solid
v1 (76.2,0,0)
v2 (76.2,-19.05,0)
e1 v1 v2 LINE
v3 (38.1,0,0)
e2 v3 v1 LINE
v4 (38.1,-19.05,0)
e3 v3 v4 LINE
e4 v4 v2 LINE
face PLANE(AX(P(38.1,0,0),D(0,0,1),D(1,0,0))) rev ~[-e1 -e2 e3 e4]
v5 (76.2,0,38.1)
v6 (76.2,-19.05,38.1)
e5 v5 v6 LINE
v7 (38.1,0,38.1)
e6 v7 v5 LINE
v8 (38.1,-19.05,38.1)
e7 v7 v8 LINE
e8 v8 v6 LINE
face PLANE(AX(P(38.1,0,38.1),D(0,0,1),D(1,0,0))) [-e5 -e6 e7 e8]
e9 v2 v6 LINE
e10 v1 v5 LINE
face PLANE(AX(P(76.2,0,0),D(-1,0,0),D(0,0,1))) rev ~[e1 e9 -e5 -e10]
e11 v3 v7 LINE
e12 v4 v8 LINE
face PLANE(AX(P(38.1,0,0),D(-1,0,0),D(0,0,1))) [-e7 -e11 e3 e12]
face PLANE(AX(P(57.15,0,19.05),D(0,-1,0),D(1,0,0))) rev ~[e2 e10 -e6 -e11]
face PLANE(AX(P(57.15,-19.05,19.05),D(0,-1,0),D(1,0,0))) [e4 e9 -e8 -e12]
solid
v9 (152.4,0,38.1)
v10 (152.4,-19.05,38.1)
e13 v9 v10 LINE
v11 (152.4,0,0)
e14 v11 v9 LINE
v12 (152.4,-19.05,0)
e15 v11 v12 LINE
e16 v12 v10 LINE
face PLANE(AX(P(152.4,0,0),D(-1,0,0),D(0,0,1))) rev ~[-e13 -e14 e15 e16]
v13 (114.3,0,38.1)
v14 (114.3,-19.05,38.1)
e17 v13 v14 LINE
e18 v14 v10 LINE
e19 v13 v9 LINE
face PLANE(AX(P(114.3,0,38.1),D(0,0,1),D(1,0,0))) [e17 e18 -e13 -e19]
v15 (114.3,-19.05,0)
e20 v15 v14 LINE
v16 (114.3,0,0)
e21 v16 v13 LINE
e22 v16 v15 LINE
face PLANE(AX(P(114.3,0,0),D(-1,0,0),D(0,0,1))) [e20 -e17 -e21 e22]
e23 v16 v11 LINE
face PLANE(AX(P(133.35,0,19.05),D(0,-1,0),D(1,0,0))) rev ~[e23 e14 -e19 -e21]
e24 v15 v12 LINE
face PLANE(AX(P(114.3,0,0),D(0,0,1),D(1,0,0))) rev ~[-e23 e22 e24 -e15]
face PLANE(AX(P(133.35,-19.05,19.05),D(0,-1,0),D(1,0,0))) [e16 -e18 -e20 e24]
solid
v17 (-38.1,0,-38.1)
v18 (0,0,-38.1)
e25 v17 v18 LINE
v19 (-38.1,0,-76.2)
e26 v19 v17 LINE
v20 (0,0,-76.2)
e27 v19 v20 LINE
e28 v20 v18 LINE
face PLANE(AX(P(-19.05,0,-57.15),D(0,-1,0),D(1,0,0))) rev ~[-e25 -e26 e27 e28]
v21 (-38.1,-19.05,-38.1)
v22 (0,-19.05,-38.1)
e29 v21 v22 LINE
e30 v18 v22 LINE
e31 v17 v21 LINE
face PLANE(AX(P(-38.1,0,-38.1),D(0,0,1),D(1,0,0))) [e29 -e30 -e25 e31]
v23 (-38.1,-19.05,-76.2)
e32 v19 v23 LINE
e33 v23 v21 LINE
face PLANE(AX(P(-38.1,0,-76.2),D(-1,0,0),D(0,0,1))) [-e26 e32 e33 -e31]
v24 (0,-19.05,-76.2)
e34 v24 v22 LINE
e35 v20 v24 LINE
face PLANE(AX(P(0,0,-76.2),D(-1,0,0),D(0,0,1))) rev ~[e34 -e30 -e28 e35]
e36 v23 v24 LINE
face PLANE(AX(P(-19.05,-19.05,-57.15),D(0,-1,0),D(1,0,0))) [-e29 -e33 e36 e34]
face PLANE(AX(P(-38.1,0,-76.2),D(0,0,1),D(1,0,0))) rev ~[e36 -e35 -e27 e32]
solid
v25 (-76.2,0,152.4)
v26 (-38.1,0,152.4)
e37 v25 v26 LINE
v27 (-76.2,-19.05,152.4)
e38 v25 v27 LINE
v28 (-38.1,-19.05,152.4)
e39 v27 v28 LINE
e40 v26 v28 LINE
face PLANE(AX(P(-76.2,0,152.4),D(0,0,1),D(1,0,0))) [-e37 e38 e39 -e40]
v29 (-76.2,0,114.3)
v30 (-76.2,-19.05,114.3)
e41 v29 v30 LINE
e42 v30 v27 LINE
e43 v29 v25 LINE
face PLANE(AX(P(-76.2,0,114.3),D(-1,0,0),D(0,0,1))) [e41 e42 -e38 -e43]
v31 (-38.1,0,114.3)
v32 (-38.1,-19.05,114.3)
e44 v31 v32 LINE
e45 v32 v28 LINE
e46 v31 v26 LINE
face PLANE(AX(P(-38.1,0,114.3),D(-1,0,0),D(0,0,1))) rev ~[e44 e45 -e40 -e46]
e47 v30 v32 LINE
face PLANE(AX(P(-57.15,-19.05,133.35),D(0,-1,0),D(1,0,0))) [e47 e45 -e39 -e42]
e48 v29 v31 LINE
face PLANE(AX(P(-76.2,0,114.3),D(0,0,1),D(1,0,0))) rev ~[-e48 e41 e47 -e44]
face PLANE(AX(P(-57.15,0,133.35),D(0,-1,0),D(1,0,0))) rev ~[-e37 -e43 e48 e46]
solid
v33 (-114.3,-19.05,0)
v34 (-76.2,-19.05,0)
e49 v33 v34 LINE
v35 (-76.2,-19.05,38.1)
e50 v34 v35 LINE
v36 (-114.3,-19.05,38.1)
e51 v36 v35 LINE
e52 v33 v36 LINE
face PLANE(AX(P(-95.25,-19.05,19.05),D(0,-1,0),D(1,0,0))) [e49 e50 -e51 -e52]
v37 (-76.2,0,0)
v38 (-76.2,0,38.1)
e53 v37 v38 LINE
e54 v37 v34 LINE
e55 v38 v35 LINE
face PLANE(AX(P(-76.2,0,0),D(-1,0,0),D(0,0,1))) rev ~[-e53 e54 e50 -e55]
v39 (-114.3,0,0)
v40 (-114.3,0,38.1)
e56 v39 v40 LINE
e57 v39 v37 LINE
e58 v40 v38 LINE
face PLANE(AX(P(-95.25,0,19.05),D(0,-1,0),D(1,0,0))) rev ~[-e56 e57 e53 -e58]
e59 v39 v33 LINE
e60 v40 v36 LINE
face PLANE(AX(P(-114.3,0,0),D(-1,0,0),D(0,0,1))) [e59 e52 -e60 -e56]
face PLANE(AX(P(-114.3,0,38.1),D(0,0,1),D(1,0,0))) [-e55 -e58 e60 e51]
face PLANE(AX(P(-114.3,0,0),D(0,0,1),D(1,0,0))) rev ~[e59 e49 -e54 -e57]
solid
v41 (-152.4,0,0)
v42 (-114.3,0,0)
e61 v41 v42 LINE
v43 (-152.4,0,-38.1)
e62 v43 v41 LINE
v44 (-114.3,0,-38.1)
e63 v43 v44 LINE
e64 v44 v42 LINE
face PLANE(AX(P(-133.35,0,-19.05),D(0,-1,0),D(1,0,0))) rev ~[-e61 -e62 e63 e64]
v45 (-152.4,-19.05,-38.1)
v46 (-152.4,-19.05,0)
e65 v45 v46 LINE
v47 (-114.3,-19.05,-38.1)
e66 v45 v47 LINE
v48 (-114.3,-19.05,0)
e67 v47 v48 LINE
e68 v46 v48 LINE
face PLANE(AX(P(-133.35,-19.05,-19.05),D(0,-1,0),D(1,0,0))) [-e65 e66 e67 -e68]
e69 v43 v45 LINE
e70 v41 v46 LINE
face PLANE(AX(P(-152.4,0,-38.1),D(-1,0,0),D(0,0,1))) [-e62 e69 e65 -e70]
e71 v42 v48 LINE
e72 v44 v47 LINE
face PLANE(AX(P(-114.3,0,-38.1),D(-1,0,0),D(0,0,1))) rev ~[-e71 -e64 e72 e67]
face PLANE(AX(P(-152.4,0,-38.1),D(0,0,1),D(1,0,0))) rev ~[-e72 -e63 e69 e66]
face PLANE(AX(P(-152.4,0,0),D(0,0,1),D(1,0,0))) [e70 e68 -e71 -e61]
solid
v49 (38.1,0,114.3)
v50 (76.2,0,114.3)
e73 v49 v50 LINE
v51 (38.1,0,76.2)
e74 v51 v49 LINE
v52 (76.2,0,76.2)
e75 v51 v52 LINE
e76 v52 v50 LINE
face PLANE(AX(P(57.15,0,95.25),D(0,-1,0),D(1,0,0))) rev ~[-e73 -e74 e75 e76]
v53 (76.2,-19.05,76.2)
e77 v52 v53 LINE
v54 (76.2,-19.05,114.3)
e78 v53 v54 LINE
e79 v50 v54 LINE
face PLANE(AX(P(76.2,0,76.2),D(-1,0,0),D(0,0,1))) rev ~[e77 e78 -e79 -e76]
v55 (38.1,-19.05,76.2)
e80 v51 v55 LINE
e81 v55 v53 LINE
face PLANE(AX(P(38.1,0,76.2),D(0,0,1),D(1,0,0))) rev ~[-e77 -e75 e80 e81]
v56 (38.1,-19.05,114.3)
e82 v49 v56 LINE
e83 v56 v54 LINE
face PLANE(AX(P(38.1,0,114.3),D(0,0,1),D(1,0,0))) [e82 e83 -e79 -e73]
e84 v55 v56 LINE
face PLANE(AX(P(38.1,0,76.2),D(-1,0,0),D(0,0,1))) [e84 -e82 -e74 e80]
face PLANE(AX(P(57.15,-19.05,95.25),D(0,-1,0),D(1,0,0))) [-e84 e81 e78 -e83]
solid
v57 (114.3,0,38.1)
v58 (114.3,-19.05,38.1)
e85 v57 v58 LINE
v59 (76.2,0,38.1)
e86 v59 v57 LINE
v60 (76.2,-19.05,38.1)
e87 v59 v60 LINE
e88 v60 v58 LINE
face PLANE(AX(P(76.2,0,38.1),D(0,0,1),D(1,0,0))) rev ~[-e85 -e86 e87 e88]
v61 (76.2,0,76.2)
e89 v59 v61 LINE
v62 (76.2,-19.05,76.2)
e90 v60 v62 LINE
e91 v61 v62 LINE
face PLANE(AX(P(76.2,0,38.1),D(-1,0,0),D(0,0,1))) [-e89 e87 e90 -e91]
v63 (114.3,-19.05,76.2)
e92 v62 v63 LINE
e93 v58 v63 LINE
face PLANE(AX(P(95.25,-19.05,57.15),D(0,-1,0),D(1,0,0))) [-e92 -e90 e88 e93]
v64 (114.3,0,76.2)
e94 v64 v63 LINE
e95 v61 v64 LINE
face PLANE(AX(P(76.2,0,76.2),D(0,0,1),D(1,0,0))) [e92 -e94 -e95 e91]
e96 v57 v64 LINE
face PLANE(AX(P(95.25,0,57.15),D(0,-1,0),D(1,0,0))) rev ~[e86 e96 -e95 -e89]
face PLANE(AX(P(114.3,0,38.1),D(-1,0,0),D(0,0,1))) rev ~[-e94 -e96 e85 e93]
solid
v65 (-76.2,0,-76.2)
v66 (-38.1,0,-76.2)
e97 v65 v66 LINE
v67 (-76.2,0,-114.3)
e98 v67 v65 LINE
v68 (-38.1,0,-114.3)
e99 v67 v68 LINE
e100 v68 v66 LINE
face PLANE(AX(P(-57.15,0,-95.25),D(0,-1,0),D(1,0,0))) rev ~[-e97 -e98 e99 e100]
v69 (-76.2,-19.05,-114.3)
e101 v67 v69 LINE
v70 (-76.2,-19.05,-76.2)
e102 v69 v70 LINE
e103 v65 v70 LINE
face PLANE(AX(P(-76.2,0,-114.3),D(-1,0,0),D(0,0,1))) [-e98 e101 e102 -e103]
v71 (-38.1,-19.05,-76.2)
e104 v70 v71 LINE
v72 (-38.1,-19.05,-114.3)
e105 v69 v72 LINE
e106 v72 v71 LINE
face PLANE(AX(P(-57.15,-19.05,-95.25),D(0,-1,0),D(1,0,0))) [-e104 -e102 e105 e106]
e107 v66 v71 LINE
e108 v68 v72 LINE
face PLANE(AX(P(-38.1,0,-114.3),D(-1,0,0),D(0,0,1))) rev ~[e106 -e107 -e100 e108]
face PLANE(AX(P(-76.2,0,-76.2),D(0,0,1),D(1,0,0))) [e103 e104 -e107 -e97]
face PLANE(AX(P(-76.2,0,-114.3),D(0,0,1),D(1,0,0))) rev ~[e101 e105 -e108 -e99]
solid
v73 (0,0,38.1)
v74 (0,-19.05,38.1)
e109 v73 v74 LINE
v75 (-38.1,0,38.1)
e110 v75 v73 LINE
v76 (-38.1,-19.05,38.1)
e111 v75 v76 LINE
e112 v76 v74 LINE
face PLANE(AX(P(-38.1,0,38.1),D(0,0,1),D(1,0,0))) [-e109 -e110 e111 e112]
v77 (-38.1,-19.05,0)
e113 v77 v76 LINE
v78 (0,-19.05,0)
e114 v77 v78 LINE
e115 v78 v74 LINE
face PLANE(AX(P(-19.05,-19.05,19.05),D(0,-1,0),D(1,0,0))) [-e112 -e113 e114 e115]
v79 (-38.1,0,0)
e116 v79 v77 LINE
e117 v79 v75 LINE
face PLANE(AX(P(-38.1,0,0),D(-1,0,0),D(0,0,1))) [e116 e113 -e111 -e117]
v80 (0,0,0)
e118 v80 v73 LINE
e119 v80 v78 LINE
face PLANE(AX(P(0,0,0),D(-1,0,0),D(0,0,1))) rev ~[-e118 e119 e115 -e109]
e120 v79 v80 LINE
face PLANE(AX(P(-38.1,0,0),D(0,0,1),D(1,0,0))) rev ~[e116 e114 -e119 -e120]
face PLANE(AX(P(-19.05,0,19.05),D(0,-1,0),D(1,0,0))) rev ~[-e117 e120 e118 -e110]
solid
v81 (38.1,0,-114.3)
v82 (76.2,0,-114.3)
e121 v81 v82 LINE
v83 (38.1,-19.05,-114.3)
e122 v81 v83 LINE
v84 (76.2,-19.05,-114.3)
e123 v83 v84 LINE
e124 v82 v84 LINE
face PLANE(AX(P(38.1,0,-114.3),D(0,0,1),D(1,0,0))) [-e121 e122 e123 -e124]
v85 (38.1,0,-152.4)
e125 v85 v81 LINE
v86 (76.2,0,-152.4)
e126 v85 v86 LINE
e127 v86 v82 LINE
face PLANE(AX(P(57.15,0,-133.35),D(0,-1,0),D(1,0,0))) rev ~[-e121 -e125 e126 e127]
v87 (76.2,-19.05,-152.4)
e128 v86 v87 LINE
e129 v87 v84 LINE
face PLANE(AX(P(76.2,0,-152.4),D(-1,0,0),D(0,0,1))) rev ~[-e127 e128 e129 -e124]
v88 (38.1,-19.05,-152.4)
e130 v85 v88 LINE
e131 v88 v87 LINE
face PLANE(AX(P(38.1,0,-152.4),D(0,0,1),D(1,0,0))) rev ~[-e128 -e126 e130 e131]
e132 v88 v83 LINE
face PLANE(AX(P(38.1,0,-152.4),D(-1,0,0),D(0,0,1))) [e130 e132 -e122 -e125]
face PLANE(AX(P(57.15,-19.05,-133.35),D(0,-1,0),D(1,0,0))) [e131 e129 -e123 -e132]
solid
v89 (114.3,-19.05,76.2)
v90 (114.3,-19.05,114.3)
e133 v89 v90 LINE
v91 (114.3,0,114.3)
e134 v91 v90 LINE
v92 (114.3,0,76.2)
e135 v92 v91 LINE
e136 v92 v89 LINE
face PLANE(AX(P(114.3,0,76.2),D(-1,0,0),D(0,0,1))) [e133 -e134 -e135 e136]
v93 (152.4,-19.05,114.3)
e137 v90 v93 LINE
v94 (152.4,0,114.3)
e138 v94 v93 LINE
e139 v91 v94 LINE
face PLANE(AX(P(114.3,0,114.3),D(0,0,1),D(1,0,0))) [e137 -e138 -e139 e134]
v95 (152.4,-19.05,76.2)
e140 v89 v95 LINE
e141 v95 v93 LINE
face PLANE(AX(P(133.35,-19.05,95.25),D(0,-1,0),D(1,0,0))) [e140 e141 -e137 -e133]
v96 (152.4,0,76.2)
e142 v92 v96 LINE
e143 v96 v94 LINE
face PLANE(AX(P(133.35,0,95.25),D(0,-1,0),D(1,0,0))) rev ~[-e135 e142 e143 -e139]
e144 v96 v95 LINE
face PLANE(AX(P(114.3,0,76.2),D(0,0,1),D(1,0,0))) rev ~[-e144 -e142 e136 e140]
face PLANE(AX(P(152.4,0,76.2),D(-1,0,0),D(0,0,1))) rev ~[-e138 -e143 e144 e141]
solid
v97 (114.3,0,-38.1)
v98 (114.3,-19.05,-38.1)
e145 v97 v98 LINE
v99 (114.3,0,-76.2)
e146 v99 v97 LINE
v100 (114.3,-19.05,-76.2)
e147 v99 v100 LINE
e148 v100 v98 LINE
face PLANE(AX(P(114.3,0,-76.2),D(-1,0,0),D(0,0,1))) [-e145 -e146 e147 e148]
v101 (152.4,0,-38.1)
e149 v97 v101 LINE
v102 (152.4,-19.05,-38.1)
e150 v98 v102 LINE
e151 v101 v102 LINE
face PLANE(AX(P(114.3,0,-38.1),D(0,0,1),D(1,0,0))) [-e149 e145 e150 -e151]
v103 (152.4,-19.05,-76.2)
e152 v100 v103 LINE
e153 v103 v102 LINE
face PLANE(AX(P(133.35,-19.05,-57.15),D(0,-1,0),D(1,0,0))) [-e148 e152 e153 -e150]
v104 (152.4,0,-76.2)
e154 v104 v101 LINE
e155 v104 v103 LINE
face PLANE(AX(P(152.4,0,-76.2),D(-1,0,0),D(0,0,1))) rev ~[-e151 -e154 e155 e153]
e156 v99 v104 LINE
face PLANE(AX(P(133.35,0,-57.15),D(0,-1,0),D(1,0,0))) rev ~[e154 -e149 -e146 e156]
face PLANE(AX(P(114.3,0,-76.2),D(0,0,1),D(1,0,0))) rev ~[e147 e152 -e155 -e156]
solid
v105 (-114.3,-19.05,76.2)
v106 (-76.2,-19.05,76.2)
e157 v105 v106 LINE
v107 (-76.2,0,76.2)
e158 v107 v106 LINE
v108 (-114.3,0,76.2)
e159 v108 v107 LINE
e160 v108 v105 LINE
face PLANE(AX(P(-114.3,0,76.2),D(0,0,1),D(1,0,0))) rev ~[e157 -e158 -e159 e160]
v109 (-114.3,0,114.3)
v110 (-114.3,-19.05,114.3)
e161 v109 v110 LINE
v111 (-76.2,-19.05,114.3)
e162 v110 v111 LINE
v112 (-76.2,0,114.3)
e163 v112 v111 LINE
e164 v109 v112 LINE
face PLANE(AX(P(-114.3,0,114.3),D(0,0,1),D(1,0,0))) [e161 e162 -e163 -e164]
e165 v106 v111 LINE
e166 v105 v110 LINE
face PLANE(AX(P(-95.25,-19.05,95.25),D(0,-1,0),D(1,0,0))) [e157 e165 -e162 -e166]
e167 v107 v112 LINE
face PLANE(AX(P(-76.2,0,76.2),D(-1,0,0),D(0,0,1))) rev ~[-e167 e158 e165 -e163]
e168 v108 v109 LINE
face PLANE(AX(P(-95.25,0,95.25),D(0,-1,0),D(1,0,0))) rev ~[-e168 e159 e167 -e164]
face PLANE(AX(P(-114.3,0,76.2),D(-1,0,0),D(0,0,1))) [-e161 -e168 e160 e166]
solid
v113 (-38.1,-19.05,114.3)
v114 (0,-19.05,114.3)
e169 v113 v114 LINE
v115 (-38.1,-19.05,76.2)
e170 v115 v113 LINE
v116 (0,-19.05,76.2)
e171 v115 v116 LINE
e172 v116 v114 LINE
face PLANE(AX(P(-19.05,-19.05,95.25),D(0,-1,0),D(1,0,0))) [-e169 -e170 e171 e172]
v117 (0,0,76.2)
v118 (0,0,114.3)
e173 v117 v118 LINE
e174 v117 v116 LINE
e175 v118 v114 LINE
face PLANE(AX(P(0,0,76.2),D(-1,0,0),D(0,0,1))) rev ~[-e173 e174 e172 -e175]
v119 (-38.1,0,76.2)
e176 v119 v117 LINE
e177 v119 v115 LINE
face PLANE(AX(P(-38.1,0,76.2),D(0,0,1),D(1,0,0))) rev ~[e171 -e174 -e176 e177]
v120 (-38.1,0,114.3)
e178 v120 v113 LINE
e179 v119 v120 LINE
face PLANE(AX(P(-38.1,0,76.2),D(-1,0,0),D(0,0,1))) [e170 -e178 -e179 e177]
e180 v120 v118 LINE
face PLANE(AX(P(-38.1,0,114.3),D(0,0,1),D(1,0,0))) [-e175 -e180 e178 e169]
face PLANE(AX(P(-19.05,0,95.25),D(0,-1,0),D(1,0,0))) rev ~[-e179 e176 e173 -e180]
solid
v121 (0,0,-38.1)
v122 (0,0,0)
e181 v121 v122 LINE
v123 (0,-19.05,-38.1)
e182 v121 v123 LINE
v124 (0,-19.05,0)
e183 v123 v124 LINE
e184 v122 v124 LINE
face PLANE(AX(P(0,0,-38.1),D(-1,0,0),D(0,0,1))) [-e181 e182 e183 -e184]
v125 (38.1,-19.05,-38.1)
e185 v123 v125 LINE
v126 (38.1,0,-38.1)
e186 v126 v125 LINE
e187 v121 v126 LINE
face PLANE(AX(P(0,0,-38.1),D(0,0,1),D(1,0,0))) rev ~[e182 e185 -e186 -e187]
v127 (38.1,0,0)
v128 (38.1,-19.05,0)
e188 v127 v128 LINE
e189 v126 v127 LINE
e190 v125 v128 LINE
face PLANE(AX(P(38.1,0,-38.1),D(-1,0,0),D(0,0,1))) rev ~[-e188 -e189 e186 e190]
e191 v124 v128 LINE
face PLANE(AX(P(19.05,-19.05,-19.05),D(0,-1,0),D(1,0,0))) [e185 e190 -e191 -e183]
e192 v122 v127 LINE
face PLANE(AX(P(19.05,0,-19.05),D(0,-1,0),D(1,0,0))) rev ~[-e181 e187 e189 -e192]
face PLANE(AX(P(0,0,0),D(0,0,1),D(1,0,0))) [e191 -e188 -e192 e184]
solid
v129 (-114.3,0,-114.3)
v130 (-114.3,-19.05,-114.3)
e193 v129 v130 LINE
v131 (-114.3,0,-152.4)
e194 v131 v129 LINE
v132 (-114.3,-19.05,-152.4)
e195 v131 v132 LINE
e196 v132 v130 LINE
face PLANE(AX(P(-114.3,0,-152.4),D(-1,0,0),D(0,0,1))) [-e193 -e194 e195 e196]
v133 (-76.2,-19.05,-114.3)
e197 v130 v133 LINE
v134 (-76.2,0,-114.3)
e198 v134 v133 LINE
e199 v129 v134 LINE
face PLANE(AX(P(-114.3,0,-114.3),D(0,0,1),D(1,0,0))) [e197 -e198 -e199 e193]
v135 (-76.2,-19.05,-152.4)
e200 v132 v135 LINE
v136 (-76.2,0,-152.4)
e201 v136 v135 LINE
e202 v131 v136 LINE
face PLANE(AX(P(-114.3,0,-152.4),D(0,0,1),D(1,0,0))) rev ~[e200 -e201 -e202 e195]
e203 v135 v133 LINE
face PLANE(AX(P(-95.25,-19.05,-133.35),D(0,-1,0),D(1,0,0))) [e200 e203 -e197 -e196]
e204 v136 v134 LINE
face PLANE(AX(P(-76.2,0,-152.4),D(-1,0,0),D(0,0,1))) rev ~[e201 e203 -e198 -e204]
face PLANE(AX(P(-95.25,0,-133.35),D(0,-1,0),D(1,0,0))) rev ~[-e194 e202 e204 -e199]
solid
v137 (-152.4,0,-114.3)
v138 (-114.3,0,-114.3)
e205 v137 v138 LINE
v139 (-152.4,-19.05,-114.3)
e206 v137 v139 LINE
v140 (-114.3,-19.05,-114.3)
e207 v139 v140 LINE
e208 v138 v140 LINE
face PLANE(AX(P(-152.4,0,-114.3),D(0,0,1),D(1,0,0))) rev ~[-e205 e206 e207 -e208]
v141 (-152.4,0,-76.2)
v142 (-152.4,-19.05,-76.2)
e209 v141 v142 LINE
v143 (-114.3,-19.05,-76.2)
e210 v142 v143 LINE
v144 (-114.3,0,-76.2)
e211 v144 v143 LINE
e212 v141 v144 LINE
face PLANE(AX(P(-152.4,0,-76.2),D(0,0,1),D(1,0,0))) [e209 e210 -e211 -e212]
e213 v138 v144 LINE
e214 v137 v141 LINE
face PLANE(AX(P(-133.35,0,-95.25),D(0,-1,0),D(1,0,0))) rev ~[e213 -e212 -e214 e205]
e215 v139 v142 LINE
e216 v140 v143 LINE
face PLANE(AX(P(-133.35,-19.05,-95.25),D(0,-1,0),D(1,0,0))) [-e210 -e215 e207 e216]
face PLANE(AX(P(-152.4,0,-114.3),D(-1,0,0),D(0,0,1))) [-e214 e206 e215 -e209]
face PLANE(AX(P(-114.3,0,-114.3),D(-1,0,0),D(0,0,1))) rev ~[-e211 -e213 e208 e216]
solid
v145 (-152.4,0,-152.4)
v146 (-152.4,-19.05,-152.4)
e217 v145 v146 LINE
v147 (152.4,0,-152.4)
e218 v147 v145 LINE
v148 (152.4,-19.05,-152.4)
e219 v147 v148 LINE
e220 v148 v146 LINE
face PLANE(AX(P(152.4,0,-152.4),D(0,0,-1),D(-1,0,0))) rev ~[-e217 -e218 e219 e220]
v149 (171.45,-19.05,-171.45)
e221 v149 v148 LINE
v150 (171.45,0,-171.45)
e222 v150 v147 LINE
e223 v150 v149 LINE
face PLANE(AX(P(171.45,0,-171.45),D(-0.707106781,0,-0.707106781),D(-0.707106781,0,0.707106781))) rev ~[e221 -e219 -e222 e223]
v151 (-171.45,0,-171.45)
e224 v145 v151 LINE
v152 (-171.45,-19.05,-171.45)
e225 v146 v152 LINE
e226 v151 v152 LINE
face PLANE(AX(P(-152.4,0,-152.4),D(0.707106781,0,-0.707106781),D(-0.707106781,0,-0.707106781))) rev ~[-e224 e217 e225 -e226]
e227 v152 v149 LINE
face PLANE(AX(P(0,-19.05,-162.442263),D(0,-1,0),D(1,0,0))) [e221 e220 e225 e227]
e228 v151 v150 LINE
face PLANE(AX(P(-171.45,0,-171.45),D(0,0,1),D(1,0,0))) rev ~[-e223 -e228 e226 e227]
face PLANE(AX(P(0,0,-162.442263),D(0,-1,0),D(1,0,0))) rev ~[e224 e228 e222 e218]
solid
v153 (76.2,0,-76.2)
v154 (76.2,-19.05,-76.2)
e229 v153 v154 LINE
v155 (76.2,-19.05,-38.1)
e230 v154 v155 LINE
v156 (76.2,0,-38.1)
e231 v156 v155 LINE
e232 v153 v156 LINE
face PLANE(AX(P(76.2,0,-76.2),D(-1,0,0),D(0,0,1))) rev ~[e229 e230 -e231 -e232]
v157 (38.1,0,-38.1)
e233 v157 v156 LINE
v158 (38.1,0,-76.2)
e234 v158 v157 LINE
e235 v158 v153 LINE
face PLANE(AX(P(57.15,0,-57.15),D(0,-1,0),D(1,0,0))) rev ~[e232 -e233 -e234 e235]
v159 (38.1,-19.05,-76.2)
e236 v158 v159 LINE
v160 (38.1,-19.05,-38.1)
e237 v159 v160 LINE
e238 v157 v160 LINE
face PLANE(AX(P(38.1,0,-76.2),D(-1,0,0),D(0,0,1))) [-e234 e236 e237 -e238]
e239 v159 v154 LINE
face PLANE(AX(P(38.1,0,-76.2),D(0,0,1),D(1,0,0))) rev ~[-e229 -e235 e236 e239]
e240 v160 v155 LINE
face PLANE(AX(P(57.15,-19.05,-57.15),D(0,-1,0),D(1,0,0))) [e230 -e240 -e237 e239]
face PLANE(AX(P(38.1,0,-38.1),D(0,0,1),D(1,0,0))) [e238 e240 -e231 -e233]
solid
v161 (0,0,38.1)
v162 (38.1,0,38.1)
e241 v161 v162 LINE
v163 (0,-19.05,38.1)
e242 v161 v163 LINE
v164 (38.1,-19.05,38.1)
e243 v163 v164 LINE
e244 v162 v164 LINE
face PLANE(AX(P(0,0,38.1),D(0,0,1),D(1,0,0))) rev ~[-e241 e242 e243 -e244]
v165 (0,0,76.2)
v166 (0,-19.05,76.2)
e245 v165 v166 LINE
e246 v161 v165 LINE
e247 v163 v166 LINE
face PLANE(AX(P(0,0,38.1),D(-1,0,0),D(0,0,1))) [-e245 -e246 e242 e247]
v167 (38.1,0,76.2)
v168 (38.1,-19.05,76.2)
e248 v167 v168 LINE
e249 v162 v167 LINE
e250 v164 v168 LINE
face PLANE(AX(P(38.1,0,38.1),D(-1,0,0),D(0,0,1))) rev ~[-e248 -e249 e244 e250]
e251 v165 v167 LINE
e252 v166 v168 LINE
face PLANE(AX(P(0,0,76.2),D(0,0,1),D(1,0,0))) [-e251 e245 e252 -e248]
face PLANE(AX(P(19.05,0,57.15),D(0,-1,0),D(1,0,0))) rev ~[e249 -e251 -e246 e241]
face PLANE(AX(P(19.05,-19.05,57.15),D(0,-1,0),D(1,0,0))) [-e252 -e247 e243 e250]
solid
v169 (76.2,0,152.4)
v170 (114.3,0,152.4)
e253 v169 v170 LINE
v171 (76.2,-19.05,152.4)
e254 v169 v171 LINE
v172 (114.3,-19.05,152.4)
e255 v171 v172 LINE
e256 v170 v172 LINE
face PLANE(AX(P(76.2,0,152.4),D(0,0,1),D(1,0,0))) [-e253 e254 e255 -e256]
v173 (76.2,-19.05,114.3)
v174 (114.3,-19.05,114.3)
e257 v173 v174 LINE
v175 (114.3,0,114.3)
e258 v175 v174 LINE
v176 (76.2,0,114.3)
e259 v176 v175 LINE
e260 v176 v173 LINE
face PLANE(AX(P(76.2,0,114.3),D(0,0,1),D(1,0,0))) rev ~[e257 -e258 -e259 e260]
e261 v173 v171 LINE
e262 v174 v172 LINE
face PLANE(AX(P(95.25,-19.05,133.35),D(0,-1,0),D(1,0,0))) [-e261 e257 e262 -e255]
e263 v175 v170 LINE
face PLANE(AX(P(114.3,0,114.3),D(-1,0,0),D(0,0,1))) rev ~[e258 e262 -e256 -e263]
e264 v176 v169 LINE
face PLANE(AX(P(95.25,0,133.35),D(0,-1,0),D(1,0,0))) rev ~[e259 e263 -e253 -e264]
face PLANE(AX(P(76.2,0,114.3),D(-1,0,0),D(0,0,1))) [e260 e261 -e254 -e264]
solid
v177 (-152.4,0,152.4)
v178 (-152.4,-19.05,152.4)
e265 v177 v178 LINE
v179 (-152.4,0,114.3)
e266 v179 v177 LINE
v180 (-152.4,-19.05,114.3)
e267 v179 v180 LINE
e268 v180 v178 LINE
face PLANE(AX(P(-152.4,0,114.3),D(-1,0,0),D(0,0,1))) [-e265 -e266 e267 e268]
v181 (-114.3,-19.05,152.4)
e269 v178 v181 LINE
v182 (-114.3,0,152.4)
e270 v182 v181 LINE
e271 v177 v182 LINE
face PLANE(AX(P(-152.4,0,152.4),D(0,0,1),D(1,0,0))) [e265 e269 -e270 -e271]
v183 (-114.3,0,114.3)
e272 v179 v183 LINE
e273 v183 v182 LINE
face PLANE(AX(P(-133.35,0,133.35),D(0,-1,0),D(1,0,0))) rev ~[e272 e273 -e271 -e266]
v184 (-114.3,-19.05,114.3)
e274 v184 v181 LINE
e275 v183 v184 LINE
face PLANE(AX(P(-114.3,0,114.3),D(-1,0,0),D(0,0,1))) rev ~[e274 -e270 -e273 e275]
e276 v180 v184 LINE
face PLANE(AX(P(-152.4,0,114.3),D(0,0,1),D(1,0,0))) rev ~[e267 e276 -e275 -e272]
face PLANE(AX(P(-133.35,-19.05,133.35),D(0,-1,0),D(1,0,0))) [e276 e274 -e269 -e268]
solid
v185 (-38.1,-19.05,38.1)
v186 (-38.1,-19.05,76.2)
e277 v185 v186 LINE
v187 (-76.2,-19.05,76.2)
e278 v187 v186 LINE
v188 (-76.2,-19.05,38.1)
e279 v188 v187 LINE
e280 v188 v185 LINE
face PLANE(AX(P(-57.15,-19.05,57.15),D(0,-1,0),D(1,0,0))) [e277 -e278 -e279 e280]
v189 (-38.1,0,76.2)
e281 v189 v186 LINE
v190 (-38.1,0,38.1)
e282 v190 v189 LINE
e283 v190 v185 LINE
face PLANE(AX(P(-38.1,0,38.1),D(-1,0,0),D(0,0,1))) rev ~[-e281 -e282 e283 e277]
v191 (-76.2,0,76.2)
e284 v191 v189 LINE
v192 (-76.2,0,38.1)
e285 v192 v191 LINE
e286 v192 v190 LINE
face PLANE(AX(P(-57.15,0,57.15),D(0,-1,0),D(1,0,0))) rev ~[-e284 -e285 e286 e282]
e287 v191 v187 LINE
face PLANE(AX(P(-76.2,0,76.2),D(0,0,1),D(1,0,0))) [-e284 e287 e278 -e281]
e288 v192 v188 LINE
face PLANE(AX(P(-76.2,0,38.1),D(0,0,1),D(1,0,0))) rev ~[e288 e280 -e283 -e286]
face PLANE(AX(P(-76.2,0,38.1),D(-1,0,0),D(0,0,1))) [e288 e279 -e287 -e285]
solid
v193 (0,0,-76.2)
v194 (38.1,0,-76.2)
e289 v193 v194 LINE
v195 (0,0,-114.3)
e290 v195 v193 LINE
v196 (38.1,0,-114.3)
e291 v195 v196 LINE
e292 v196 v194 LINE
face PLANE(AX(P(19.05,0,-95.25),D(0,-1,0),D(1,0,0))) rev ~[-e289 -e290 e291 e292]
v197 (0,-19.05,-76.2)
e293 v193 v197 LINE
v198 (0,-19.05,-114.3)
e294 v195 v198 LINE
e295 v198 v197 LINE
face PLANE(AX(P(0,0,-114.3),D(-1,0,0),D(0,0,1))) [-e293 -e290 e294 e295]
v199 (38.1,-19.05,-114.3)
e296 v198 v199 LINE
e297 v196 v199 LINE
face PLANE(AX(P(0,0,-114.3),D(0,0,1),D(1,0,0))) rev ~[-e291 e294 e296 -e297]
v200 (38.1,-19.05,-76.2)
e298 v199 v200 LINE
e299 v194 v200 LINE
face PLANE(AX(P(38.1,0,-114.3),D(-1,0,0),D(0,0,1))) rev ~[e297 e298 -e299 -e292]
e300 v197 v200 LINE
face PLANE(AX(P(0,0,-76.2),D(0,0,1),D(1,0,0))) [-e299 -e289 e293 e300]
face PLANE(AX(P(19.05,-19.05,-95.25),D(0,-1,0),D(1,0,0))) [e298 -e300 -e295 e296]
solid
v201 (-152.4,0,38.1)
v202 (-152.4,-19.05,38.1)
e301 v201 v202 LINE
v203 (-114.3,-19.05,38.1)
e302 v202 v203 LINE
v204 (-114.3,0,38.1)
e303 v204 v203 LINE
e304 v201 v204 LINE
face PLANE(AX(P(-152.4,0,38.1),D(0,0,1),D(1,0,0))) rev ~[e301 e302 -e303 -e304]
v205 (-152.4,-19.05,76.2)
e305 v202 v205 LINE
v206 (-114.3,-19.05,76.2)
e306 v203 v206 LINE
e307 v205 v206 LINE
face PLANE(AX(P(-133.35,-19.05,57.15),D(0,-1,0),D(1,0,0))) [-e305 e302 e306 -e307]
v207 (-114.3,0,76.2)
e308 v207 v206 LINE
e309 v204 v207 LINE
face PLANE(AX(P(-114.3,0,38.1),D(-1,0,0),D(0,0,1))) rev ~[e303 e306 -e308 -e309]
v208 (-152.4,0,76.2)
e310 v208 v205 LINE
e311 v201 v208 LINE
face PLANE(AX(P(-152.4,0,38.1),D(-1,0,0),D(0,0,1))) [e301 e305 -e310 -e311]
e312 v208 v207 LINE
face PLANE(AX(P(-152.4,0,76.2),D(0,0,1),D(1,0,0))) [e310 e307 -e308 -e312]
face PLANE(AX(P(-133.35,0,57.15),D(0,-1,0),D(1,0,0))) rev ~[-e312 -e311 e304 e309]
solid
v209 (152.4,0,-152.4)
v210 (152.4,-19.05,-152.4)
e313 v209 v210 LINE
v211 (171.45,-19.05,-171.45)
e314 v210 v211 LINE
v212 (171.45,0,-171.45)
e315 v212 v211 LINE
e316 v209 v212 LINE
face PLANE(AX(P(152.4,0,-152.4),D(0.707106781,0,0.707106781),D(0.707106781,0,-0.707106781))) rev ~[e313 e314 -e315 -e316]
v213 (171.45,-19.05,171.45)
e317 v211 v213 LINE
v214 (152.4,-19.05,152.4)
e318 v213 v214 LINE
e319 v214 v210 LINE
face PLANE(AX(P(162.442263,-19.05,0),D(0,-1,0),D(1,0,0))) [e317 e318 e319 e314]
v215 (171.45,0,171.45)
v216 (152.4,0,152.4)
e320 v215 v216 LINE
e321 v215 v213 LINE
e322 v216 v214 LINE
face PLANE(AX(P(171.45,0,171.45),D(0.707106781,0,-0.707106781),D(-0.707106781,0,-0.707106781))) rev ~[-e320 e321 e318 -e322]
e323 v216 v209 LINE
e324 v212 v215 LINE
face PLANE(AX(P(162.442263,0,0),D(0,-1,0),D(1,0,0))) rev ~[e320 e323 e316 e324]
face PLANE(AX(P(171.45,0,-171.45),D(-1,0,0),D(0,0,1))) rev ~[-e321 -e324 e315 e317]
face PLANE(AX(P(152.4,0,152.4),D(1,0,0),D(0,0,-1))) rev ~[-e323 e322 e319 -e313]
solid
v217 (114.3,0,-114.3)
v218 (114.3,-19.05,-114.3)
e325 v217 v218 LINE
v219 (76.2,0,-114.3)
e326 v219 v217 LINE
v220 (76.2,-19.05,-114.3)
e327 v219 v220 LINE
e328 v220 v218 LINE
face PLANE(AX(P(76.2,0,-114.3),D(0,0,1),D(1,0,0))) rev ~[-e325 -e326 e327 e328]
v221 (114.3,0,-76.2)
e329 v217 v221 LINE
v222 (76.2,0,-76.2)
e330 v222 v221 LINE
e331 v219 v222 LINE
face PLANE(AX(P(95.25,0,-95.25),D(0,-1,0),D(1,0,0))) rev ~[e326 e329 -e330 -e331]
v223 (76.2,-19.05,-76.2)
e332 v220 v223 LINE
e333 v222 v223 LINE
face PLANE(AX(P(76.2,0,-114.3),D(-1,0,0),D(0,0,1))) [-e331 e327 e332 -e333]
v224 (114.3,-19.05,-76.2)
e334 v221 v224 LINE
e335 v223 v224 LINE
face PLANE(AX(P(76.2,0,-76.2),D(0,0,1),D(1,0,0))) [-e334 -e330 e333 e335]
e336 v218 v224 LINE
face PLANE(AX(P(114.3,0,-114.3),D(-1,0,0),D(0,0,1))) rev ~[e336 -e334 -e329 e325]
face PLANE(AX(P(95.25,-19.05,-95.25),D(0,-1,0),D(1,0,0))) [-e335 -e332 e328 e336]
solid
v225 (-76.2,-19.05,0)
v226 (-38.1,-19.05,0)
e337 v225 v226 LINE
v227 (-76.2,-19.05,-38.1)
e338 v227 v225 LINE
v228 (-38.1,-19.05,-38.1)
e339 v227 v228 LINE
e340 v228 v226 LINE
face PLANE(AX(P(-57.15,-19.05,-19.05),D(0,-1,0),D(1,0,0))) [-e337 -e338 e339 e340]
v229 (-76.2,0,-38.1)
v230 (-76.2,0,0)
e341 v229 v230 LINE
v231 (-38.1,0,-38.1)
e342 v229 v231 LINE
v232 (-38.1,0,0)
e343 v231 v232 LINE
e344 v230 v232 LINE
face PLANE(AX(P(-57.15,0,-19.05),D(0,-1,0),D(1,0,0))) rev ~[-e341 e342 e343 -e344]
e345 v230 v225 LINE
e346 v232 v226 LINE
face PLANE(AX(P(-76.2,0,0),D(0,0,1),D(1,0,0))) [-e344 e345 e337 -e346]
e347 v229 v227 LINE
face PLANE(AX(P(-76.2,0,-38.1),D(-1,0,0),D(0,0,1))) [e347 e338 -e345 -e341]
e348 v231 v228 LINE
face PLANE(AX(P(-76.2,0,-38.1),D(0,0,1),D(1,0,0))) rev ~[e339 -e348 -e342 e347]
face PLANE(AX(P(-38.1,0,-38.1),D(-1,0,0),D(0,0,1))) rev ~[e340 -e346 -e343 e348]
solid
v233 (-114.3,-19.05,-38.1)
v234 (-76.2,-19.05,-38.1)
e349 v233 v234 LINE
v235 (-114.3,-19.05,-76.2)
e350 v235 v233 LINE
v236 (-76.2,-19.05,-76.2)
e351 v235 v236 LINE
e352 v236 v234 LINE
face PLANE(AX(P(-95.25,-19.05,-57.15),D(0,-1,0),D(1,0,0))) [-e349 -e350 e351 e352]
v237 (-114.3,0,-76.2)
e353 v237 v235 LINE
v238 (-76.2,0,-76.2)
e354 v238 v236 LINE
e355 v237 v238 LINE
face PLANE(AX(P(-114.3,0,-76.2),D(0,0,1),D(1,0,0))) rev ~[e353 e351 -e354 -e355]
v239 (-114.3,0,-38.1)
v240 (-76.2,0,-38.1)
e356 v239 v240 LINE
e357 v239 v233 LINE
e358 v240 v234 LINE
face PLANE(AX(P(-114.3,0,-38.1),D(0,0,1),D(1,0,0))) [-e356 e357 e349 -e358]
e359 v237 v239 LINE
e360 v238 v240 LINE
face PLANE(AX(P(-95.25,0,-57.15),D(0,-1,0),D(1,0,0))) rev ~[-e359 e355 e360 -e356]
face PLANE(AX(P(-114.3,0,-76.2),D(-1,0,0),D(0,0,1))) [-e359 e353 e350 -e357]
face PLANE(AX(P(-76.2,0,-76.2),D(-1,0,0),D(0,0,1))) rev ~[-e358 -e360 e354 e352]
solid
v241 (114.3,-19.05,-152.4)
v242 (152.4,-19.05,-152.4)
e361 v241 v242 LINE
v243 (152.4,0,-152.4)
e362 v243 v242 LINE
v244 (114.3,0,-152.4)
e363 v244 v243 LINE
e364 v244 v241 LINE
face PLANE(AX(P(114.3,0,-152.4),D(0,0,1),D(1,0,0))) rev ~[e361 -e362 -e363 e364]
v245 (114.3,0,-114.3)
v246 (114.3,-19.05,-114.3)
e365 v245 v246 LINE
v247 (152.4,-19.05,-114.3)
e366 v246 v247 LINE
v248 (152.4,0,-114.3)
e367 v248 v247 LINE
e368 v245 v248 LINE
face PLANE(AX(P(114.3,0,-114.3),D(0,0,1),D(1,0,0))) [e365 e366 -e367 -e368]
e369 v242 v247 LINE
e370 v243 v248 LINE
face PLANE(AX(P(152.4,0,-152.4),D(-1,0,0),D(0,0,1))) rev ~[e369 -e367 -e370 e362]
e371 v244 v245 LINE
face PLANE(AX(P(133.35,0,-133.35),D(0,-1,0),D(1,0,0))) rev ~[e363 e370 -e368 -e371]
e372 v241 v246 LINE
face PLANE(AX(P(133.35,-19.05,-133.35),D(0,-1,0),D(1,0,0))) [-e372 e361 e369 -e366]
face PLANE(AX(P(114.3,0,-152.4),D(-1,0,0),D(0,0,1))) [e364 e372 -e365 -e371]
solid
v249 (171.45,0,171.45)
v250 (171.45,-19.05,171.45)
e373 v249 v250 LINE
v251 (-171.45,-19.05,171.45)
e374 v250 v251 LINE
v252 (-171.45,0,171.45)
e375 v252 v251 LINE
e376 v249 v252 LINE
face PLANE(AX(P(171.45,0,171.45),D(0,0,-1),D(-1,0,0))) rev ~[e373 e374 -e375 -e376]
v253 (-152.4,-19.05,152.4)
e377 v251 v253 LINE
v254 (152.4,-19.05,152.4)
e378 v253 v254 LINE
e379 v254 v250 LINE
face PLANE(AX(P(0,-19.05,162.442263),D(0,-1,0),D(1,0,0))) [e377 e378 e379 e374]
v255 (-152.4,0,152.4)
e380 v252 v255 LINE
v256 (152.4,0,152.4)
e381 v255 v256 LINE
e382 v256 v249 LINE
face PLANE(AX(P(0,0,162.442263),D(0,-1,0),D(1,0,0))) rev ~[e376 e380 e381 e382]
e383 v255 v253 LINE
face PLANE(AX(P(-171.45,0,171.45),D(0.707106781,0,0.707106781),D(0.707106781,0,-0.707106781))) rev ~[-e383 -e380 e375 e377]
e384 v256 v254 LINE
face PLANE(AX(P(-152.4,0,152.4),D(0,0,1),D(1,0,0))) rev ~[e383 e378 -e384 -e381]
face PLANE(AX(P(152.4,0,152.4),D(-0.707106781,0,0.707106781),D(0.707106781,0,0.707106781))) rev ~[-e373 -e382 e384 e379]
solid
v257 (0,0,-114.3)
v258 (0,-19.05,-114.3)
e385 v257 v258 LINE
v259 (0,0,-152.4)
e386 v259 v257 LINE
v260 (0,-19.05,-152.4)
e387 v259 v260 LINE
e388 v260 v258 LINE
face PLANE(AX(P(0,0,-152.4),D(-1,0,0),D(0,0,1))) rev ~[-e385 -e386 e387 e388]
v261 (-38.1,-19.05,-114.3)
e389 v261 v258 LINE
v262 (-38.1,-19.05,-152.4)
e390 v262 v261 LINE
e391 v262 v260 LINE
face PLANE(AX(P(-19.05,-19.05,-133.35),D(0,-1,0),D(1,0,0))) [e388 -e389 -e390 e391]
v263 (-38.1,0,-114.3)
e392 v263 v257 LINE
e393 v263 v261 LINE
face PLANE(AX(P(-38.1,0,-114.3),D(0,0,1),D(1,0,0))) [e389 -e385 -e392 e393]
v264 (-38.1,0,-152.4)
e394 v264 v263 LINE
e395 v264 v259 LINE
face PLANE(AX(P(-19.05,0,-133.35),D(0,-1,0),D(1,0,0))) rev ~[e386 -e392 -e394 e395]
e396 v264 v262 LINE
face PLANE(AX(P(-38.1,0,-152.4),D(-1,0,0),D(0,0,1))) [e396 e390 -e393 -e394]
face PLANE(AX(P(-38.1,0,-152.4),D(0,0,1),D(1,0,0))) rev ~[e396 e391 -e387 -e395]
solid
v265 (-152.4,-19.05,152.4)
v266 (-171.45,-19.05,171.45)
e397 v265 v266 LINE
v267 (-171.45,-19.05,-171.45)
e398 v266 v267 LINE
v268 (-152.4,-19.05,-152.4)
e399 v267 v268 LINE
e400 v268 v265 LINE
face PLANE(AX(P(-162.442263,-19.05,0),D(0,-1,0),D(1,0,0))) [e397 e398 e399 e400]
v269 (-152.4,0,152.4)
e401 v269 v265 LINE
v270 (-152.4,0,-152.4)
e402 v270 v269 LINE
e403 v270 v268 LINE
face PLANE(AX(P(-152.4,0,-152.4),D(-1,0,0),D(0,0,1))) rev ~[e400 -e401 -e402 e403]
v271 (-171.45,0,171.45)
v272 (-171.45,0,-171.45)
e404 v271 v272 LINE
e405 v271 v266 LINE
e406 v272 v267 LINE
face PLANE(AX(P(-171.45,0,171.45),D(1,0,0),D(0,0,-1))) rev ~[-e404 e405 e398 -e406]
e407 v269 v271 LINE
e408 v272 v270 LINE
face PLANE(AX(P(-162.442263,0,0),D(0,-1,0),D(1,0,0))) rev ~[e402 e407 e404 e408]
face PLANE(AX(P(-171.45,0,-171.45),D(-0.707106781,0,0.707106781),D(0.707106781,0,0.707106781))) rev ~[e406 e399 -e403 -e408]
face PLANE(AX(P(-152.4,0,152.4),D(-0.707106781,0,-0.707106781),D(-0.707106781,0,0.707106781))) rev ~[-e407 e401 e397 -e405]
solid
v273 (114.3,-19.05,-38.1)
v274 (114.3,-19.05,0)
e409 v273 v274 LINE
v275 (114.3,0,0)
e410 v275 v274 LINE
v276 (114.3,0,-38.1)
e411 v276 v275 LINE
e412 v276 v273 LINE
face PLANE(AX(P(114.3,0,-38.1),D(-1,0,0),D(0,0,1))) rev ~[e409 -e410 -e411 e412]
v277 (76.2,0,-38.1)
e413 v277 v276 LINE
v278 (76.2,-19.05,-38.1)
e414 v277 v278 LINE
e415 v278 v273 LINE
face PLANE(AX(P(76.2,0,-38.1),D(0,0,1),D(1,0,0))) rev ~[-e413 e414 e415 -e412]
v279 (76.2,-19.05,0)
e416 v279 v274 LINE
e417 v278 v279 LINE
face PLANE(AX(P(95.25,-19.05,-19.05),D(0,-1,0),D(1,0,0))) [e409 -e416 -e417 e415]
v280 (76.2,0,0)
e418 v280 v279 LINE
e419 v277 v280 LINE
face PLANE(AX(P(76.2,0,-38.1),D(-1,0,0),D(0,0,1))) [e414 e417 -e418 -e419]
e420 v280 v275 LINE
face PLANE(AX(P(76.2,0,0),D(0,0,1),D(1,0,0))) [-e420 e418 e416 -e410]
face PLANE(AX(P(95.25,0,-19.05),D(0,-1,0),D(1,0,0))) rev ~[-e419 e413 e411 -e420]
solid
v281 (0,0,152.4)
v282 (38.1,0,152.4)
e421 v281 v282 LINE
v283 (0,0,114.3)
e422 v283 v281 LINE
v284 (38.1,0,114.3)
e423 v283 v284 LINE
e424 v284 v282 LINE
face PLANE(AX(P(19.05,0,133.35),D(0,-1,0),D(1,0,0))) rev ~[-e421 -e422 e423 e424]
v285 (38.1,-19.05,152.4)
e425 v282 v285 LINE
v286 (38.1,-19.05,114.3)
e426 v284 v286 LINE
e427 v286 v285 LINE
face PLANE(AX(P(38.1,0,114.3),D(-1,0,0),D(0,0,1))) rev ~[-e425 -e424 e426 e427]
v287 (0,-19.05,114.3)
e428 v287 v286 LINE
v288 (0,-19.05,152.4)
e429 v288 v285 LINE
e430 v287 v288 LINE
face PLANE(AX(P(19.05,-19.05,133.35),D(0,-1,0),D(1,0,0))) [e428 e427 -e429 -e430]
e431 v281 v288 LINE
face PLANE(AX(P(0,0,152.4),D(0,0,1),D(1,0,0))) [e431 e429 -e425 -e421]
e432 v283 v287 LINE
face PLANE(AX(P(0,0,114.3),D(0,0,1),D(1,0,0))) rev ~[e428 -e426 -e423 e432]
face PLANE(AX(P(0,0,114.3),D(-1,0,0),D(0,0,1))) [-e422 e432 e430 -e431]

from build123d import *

# Parameters (mm, degrees)
F2_DEPTH = 19.05
F3_DEPTH = 19.05
F4_DEPTH = 19.05
F5_DEPTH = 19.05
F6_W     = 38.1
F6_H     = 38.1
F7_DEPTH = 19.05


with BuildPart() as f2:
    # F1 (on Front) → F2 (new body)
    with BuildSketch(Plane.XZ):
        Polygon((-171.45, 171.45), (-171.45, -171.45), (-152.4, -152.4), (-152.4, 152.4), align=None)
    extrude(amount=F2_DEPTH)


with BuildPart() as f3:
    # F1 (on Front) → F3 (new body)
    with BuildSketch(Plane.XZ):
        Polygon((-171.45, -171.45), (171.45, -171.45), (152.4, -152.4), (-152.4, -152.4), align=None)
    extrude(amount=F3_DEPTH)


with BuildPart() as f4:
    # F1 (on Front) → F4 (new body)
    with BuildSketch(Plane.XZ):
        Polygon((152.4, 152.4), (171.45, 171.45), (-171.45, 171.45), (-152.4, 152.4), align=None)
    extrude(amount=F4_DEPTH)


with BuildPart() as f5:
    # F1 (on Front) → F5 (new body)
    with BuildSketch(Plane.XZ):
        Polygon((152.4, -152.4), (171.45, -171.45), (171.45, 171.45), (152.4, 152.4), align=None)
    extrude(amount=F5_DEPTH)


with BuildPart() as f7:
    # F6 (on Front) → F7 (new body)
    with BuildSketch(Plane.XZ):
        with Locations((-133.35, 133.35)):
            Rectangle(F6_W, F6_H)
    extrude(amount=F7_DEPTH)


with BuildPart() as f7b:
    # F6 (on Front) → F7, piece 2 (new body)
    with BuildSketch(Plane.XZ):
        with Locations((-133.35, 57.15)):
            Rectangle(F6_W, F6_H)
    extrude(amount=F7_DEPTH)


with BuildPart() as f7c:
    # F6 (on Front) → F7, piece 3 (new body)
    with BuildSketch(Plane.XZ):
        with Locations((-133.35, -19.05)):
            Rectangle(F6_W, F6_H)
    extrude(amount=F7_DEPTH)


with BuildPart() as f7d:
    # F6 (on Front) → F7, piece 4 (new body)
    with BuildSketch(Plane.XZ):
        with Locations((-133.35, -95.25)):
            Rectangle(F6_W, F6_H)
    extrude(amount=F7_DEPTH)


with BuildPart() as f7e:
    # F6 (on Front) → F7, piece 5 (new body)
    with BuildSketch(Plane.XZ):
        with Locations((-95.25, -133.35)):
            Rectangle(F6_W, F6_H)
    extrude(amount=F7_DEPTH)


with BuildPart() as f7f:
    # F6 (on Front) → F7, piece 6 (new body)
    with BuildSketch(Plane.XZ):
        with Locations((-95.25, -57.15)):
            Rectangle(F6_W, F6_H)
    extrude(amount=F7_DEPTH)


with BuildPart() as f7g:
    # F6 (on Front) → F7, piece 7 (new body)
    with BuildSketch(Plane.XZ):
        with Locations((-95.25, 19.05)):
            Rectangle(F6_W, F6_H)
    extrude(amount=F7_DEPTH)


with BuildPart() as f7h:
    # F6 (on Front) → F7, piece 8 (new body)
    with BuildSketch(Plane.XZ):
        with Locations((-95.25, 95.25)):
            Rectangle(F6_W, F6_H)
    extrude(amount=F7_DEPTH)


with BuildPart() as f7i:
    # F6 (on Front) → F7, piece 9 (new body)
    with BuildSketch(Plane.XZ):
        with Locations((-57.15, 133.35)):
            Rectangle(F6_W, F6_H)
    extrude(amount=F7_DEPTH)


with BuildPart() as f7j:
    # F6 (on Front) → F7, piece 10 (new body)
    with BuildSketch(Plane.XZ):
        with Locations((-57.15, 57.15)):
            Rectangle(F6_W, F6_H)
    extrude(amount=F7_DEPTH)


with BuildPart() as f7k:
    # F6 (on Front) → F7, piece 11 (new body)
    with BuildSketch(Plane.XZ):
        with Locations((-57.15, -19.05)):
            Rectangle(F6_W, F6_H)
    extrude(amount=F7_DEPTH)


with BuildPart() as f7l:
    # F6 (on Front) → F7, piece 12 (new body)
    with BuildSketch(Plane.XZ):
        with Locations((-57.15, -95.25)):
            Rectangle(F6_W, F6_H)
    extrude(amount=F7_DEPTH)


with BuildPart() as f7m:
    # F6 (on Front) → F7, piece 13 (new body)
    with BuildSketch(Plane.XZ):
        with Locations((-19.05, -133.35)):
            Rectangle(F6_W, F6_H)
    extrude(amount=F7_DEPTH)


with BuildPart() as f7n:
    # F6 (on Front) → F7, piece 14 (new body)
    with BuildSketch(Plane.XZ):
        with Locations((-19.05, -57.15)):
            Rectangle(F6_W, F6_H)
    extrude(amount=F7_DEPTH)


with BuildPart() as f7o:
    # F6 (on Front) → F7, piece 15 (new body)
    with BuildSketch(Plane.XZ):
        with Locations((-19.05, 19.05)):
            Rectangle(F6_W, F6_H)
    extrude(amount=F7_DEPTH)


with BuildPart() as f7p:
    # F6 (on Front) → F7, piece 16 (new body)
    with BuildSketch(Plane.XZ):
        with Locations((-19.05, 95.25)):
            Rectangle(F6_W, F6_H)
    extrude(amount=F7_DEPTH)


with BuildPart() as f7q:
    # F6 (on Front) → F7, piece 17 (new body)
    with BuildSketch(Plane.XZ):
        with Locations((19.05, 133.35)):
            Rectangle(F6_W, F6_H)
    extrude(amount=F7_DEPTH)


with BuildPart() as f7r:
    # F6 (on Front) → F7, piece 18 (new body)
    with BuildSketch(Plane.XZ):
        with Locations((19.05, 57.15)):
            Rectangle(F6_W, F6_H)
    extrude(amount=F7_DEPTH)


with BuildPart() as f7s:
    # F6 (on Front) → F7, piece 19 (new body)
    with BuildSketch(Plane.XZ):
        with Locations((57.15, -57.15)):
            Rectangle(F6_W, F6_H)
    extrude(amount=F7_DEPTH)


with BuildPart() as f7t:
    # F6 (on Front) → F7, piece 20 (new body)
    with BuildSketch(Plane.XZ):
        with Locations((57.15, 19.05)):
            Rectangle(F6_W, F6_H)
    extrude(amount=F7_DEPTH)


with BuildPart() as f7u:
    # F6 (on Front) → F7, piece 21 (new body)
    with BuildSketch(Plane.XZ):
        with Locations((57.15, 95.25)):
            Rectangle(F6_W, F6_H)
    extrude(amount=F7_DEPTH)


with BuildPart() as f7v:
    # F6 (on Front) → F7, piece 22 (new body)
    with BuildSketch(Plane.XZ):
        with Locations((19.05, -95.25)):
            Rectangle(F6_W, F6_H)
    extrude(amount=F7_DEPTH)


with BuildPart() as f7w:
    # F6 (on Front) → F7, piece 23 (new body)
    with BuildSketch(Plane.XZ):
        with Locations((19.05, -19.05)):
            Rectangle(F6_W, F6_H)
    extrude(amount=F7_DEPTH)


with BuildPart() as f7x:
    # F6 (on Front) → F7, piece 24 (new body)
    with BuildSketch(Plane.XZ):
        with Locations((95.25, -95.25)):
            Rectangle(F6_W, F6_H)
    extrude(amount=F7_DEPTH)


with BuildPart() as f7y:
    # F6 (on Front) → F7, piece 25 (new body)
    with BuildSketch(Plane.XZ):
        with Locations((95.25, -19.05)):
            Rectangle(F6_W, F6_H)
    extrude(amount=F7_DEPTH)


with BuildPart() as f7z:
    # F6 (on Front) → F7, piece 26 (new body)
    with BuildSketch(Plane.XZ):
        with Locations((95.25, 57.15)):
            Rectangle(F6_W, F6_H)
    extrude(amount=F7_DEPTH)


with BuildPart() as f7ba:
    # F6 (on Front) → F7, piece 27 (new body)
    with BuildSketch(Plane.XZ):
        with Locations((95.25, 133.35)):
            Rectangle(F6_W, F6_H)
    extrude(amount=F7_DEPTH)


with BuildPart() as f7bb:
    # F6 (on Front) → F7, piece 28 (new body)
    with BuildSketch(Plane.XZ):
        with Locations((133.35, 95.25)):
            Rectangle(F6_W, F6_H)
    extrude(amount=F7_DEPTH)


with BuildPart() as f7bc:
    # F6 (on Front) → F7, piece 29 (new body)
    with BuildSketch(Plane.XZ):
        with Locations((133.35, 19.05)):
            Rectangle(F6_W, F6_H)
    extrude(amount=F7_DEPTH)


with BuildPart() as f7bd:
    # F6 (on Front) → F7, piece 30 (new body)
    with BuildSketch(Plane.XZ):
        with Locations((133.35, -57.15)):
            Rectangle(F6_W, F6_H)
    extrude(amount=F7_DEPTH)


with BuildPart() as f7be:
    # F6 (on Front) → F7, piece 31 (new body)
    with BuildSketch(Plane.XZ):
        with Locations((57.15, -133.35)):
            Rectangle(F6_W, F6_H)
    extrude(amount=F7_DEPTH)


with BuildPart() as f7bf:
    # F6 (on Front) → F7, piece 32 (new body)
    with BuildSketch(Plane.XZ):
        with Locations((133.35, -133.35)):
            Rectangle(F6_W, F6_H)
    extrude(amount=F7_DEPTH)


solid = Compound([f2.part, f3.part, f4.part, f5.part, f7.part, f7b.part, f7c.part, f7d.part, f7e.part, f7f.part, f7g.part, f7h.part, f7i.part, f7j.part, f7k.part, f7l.part, f7m.part, f7n.part, f7o.part, f7p.part, f7q.part, f7r.part, f7s.part, f7t.part, f7u.part, f7v.part, f7w.part, f7x.part, f7y.part, f7z.part, f7ba.part, f7bb.part, f7bc.part, f7bd.part, f7be.part, f7bf.part])
